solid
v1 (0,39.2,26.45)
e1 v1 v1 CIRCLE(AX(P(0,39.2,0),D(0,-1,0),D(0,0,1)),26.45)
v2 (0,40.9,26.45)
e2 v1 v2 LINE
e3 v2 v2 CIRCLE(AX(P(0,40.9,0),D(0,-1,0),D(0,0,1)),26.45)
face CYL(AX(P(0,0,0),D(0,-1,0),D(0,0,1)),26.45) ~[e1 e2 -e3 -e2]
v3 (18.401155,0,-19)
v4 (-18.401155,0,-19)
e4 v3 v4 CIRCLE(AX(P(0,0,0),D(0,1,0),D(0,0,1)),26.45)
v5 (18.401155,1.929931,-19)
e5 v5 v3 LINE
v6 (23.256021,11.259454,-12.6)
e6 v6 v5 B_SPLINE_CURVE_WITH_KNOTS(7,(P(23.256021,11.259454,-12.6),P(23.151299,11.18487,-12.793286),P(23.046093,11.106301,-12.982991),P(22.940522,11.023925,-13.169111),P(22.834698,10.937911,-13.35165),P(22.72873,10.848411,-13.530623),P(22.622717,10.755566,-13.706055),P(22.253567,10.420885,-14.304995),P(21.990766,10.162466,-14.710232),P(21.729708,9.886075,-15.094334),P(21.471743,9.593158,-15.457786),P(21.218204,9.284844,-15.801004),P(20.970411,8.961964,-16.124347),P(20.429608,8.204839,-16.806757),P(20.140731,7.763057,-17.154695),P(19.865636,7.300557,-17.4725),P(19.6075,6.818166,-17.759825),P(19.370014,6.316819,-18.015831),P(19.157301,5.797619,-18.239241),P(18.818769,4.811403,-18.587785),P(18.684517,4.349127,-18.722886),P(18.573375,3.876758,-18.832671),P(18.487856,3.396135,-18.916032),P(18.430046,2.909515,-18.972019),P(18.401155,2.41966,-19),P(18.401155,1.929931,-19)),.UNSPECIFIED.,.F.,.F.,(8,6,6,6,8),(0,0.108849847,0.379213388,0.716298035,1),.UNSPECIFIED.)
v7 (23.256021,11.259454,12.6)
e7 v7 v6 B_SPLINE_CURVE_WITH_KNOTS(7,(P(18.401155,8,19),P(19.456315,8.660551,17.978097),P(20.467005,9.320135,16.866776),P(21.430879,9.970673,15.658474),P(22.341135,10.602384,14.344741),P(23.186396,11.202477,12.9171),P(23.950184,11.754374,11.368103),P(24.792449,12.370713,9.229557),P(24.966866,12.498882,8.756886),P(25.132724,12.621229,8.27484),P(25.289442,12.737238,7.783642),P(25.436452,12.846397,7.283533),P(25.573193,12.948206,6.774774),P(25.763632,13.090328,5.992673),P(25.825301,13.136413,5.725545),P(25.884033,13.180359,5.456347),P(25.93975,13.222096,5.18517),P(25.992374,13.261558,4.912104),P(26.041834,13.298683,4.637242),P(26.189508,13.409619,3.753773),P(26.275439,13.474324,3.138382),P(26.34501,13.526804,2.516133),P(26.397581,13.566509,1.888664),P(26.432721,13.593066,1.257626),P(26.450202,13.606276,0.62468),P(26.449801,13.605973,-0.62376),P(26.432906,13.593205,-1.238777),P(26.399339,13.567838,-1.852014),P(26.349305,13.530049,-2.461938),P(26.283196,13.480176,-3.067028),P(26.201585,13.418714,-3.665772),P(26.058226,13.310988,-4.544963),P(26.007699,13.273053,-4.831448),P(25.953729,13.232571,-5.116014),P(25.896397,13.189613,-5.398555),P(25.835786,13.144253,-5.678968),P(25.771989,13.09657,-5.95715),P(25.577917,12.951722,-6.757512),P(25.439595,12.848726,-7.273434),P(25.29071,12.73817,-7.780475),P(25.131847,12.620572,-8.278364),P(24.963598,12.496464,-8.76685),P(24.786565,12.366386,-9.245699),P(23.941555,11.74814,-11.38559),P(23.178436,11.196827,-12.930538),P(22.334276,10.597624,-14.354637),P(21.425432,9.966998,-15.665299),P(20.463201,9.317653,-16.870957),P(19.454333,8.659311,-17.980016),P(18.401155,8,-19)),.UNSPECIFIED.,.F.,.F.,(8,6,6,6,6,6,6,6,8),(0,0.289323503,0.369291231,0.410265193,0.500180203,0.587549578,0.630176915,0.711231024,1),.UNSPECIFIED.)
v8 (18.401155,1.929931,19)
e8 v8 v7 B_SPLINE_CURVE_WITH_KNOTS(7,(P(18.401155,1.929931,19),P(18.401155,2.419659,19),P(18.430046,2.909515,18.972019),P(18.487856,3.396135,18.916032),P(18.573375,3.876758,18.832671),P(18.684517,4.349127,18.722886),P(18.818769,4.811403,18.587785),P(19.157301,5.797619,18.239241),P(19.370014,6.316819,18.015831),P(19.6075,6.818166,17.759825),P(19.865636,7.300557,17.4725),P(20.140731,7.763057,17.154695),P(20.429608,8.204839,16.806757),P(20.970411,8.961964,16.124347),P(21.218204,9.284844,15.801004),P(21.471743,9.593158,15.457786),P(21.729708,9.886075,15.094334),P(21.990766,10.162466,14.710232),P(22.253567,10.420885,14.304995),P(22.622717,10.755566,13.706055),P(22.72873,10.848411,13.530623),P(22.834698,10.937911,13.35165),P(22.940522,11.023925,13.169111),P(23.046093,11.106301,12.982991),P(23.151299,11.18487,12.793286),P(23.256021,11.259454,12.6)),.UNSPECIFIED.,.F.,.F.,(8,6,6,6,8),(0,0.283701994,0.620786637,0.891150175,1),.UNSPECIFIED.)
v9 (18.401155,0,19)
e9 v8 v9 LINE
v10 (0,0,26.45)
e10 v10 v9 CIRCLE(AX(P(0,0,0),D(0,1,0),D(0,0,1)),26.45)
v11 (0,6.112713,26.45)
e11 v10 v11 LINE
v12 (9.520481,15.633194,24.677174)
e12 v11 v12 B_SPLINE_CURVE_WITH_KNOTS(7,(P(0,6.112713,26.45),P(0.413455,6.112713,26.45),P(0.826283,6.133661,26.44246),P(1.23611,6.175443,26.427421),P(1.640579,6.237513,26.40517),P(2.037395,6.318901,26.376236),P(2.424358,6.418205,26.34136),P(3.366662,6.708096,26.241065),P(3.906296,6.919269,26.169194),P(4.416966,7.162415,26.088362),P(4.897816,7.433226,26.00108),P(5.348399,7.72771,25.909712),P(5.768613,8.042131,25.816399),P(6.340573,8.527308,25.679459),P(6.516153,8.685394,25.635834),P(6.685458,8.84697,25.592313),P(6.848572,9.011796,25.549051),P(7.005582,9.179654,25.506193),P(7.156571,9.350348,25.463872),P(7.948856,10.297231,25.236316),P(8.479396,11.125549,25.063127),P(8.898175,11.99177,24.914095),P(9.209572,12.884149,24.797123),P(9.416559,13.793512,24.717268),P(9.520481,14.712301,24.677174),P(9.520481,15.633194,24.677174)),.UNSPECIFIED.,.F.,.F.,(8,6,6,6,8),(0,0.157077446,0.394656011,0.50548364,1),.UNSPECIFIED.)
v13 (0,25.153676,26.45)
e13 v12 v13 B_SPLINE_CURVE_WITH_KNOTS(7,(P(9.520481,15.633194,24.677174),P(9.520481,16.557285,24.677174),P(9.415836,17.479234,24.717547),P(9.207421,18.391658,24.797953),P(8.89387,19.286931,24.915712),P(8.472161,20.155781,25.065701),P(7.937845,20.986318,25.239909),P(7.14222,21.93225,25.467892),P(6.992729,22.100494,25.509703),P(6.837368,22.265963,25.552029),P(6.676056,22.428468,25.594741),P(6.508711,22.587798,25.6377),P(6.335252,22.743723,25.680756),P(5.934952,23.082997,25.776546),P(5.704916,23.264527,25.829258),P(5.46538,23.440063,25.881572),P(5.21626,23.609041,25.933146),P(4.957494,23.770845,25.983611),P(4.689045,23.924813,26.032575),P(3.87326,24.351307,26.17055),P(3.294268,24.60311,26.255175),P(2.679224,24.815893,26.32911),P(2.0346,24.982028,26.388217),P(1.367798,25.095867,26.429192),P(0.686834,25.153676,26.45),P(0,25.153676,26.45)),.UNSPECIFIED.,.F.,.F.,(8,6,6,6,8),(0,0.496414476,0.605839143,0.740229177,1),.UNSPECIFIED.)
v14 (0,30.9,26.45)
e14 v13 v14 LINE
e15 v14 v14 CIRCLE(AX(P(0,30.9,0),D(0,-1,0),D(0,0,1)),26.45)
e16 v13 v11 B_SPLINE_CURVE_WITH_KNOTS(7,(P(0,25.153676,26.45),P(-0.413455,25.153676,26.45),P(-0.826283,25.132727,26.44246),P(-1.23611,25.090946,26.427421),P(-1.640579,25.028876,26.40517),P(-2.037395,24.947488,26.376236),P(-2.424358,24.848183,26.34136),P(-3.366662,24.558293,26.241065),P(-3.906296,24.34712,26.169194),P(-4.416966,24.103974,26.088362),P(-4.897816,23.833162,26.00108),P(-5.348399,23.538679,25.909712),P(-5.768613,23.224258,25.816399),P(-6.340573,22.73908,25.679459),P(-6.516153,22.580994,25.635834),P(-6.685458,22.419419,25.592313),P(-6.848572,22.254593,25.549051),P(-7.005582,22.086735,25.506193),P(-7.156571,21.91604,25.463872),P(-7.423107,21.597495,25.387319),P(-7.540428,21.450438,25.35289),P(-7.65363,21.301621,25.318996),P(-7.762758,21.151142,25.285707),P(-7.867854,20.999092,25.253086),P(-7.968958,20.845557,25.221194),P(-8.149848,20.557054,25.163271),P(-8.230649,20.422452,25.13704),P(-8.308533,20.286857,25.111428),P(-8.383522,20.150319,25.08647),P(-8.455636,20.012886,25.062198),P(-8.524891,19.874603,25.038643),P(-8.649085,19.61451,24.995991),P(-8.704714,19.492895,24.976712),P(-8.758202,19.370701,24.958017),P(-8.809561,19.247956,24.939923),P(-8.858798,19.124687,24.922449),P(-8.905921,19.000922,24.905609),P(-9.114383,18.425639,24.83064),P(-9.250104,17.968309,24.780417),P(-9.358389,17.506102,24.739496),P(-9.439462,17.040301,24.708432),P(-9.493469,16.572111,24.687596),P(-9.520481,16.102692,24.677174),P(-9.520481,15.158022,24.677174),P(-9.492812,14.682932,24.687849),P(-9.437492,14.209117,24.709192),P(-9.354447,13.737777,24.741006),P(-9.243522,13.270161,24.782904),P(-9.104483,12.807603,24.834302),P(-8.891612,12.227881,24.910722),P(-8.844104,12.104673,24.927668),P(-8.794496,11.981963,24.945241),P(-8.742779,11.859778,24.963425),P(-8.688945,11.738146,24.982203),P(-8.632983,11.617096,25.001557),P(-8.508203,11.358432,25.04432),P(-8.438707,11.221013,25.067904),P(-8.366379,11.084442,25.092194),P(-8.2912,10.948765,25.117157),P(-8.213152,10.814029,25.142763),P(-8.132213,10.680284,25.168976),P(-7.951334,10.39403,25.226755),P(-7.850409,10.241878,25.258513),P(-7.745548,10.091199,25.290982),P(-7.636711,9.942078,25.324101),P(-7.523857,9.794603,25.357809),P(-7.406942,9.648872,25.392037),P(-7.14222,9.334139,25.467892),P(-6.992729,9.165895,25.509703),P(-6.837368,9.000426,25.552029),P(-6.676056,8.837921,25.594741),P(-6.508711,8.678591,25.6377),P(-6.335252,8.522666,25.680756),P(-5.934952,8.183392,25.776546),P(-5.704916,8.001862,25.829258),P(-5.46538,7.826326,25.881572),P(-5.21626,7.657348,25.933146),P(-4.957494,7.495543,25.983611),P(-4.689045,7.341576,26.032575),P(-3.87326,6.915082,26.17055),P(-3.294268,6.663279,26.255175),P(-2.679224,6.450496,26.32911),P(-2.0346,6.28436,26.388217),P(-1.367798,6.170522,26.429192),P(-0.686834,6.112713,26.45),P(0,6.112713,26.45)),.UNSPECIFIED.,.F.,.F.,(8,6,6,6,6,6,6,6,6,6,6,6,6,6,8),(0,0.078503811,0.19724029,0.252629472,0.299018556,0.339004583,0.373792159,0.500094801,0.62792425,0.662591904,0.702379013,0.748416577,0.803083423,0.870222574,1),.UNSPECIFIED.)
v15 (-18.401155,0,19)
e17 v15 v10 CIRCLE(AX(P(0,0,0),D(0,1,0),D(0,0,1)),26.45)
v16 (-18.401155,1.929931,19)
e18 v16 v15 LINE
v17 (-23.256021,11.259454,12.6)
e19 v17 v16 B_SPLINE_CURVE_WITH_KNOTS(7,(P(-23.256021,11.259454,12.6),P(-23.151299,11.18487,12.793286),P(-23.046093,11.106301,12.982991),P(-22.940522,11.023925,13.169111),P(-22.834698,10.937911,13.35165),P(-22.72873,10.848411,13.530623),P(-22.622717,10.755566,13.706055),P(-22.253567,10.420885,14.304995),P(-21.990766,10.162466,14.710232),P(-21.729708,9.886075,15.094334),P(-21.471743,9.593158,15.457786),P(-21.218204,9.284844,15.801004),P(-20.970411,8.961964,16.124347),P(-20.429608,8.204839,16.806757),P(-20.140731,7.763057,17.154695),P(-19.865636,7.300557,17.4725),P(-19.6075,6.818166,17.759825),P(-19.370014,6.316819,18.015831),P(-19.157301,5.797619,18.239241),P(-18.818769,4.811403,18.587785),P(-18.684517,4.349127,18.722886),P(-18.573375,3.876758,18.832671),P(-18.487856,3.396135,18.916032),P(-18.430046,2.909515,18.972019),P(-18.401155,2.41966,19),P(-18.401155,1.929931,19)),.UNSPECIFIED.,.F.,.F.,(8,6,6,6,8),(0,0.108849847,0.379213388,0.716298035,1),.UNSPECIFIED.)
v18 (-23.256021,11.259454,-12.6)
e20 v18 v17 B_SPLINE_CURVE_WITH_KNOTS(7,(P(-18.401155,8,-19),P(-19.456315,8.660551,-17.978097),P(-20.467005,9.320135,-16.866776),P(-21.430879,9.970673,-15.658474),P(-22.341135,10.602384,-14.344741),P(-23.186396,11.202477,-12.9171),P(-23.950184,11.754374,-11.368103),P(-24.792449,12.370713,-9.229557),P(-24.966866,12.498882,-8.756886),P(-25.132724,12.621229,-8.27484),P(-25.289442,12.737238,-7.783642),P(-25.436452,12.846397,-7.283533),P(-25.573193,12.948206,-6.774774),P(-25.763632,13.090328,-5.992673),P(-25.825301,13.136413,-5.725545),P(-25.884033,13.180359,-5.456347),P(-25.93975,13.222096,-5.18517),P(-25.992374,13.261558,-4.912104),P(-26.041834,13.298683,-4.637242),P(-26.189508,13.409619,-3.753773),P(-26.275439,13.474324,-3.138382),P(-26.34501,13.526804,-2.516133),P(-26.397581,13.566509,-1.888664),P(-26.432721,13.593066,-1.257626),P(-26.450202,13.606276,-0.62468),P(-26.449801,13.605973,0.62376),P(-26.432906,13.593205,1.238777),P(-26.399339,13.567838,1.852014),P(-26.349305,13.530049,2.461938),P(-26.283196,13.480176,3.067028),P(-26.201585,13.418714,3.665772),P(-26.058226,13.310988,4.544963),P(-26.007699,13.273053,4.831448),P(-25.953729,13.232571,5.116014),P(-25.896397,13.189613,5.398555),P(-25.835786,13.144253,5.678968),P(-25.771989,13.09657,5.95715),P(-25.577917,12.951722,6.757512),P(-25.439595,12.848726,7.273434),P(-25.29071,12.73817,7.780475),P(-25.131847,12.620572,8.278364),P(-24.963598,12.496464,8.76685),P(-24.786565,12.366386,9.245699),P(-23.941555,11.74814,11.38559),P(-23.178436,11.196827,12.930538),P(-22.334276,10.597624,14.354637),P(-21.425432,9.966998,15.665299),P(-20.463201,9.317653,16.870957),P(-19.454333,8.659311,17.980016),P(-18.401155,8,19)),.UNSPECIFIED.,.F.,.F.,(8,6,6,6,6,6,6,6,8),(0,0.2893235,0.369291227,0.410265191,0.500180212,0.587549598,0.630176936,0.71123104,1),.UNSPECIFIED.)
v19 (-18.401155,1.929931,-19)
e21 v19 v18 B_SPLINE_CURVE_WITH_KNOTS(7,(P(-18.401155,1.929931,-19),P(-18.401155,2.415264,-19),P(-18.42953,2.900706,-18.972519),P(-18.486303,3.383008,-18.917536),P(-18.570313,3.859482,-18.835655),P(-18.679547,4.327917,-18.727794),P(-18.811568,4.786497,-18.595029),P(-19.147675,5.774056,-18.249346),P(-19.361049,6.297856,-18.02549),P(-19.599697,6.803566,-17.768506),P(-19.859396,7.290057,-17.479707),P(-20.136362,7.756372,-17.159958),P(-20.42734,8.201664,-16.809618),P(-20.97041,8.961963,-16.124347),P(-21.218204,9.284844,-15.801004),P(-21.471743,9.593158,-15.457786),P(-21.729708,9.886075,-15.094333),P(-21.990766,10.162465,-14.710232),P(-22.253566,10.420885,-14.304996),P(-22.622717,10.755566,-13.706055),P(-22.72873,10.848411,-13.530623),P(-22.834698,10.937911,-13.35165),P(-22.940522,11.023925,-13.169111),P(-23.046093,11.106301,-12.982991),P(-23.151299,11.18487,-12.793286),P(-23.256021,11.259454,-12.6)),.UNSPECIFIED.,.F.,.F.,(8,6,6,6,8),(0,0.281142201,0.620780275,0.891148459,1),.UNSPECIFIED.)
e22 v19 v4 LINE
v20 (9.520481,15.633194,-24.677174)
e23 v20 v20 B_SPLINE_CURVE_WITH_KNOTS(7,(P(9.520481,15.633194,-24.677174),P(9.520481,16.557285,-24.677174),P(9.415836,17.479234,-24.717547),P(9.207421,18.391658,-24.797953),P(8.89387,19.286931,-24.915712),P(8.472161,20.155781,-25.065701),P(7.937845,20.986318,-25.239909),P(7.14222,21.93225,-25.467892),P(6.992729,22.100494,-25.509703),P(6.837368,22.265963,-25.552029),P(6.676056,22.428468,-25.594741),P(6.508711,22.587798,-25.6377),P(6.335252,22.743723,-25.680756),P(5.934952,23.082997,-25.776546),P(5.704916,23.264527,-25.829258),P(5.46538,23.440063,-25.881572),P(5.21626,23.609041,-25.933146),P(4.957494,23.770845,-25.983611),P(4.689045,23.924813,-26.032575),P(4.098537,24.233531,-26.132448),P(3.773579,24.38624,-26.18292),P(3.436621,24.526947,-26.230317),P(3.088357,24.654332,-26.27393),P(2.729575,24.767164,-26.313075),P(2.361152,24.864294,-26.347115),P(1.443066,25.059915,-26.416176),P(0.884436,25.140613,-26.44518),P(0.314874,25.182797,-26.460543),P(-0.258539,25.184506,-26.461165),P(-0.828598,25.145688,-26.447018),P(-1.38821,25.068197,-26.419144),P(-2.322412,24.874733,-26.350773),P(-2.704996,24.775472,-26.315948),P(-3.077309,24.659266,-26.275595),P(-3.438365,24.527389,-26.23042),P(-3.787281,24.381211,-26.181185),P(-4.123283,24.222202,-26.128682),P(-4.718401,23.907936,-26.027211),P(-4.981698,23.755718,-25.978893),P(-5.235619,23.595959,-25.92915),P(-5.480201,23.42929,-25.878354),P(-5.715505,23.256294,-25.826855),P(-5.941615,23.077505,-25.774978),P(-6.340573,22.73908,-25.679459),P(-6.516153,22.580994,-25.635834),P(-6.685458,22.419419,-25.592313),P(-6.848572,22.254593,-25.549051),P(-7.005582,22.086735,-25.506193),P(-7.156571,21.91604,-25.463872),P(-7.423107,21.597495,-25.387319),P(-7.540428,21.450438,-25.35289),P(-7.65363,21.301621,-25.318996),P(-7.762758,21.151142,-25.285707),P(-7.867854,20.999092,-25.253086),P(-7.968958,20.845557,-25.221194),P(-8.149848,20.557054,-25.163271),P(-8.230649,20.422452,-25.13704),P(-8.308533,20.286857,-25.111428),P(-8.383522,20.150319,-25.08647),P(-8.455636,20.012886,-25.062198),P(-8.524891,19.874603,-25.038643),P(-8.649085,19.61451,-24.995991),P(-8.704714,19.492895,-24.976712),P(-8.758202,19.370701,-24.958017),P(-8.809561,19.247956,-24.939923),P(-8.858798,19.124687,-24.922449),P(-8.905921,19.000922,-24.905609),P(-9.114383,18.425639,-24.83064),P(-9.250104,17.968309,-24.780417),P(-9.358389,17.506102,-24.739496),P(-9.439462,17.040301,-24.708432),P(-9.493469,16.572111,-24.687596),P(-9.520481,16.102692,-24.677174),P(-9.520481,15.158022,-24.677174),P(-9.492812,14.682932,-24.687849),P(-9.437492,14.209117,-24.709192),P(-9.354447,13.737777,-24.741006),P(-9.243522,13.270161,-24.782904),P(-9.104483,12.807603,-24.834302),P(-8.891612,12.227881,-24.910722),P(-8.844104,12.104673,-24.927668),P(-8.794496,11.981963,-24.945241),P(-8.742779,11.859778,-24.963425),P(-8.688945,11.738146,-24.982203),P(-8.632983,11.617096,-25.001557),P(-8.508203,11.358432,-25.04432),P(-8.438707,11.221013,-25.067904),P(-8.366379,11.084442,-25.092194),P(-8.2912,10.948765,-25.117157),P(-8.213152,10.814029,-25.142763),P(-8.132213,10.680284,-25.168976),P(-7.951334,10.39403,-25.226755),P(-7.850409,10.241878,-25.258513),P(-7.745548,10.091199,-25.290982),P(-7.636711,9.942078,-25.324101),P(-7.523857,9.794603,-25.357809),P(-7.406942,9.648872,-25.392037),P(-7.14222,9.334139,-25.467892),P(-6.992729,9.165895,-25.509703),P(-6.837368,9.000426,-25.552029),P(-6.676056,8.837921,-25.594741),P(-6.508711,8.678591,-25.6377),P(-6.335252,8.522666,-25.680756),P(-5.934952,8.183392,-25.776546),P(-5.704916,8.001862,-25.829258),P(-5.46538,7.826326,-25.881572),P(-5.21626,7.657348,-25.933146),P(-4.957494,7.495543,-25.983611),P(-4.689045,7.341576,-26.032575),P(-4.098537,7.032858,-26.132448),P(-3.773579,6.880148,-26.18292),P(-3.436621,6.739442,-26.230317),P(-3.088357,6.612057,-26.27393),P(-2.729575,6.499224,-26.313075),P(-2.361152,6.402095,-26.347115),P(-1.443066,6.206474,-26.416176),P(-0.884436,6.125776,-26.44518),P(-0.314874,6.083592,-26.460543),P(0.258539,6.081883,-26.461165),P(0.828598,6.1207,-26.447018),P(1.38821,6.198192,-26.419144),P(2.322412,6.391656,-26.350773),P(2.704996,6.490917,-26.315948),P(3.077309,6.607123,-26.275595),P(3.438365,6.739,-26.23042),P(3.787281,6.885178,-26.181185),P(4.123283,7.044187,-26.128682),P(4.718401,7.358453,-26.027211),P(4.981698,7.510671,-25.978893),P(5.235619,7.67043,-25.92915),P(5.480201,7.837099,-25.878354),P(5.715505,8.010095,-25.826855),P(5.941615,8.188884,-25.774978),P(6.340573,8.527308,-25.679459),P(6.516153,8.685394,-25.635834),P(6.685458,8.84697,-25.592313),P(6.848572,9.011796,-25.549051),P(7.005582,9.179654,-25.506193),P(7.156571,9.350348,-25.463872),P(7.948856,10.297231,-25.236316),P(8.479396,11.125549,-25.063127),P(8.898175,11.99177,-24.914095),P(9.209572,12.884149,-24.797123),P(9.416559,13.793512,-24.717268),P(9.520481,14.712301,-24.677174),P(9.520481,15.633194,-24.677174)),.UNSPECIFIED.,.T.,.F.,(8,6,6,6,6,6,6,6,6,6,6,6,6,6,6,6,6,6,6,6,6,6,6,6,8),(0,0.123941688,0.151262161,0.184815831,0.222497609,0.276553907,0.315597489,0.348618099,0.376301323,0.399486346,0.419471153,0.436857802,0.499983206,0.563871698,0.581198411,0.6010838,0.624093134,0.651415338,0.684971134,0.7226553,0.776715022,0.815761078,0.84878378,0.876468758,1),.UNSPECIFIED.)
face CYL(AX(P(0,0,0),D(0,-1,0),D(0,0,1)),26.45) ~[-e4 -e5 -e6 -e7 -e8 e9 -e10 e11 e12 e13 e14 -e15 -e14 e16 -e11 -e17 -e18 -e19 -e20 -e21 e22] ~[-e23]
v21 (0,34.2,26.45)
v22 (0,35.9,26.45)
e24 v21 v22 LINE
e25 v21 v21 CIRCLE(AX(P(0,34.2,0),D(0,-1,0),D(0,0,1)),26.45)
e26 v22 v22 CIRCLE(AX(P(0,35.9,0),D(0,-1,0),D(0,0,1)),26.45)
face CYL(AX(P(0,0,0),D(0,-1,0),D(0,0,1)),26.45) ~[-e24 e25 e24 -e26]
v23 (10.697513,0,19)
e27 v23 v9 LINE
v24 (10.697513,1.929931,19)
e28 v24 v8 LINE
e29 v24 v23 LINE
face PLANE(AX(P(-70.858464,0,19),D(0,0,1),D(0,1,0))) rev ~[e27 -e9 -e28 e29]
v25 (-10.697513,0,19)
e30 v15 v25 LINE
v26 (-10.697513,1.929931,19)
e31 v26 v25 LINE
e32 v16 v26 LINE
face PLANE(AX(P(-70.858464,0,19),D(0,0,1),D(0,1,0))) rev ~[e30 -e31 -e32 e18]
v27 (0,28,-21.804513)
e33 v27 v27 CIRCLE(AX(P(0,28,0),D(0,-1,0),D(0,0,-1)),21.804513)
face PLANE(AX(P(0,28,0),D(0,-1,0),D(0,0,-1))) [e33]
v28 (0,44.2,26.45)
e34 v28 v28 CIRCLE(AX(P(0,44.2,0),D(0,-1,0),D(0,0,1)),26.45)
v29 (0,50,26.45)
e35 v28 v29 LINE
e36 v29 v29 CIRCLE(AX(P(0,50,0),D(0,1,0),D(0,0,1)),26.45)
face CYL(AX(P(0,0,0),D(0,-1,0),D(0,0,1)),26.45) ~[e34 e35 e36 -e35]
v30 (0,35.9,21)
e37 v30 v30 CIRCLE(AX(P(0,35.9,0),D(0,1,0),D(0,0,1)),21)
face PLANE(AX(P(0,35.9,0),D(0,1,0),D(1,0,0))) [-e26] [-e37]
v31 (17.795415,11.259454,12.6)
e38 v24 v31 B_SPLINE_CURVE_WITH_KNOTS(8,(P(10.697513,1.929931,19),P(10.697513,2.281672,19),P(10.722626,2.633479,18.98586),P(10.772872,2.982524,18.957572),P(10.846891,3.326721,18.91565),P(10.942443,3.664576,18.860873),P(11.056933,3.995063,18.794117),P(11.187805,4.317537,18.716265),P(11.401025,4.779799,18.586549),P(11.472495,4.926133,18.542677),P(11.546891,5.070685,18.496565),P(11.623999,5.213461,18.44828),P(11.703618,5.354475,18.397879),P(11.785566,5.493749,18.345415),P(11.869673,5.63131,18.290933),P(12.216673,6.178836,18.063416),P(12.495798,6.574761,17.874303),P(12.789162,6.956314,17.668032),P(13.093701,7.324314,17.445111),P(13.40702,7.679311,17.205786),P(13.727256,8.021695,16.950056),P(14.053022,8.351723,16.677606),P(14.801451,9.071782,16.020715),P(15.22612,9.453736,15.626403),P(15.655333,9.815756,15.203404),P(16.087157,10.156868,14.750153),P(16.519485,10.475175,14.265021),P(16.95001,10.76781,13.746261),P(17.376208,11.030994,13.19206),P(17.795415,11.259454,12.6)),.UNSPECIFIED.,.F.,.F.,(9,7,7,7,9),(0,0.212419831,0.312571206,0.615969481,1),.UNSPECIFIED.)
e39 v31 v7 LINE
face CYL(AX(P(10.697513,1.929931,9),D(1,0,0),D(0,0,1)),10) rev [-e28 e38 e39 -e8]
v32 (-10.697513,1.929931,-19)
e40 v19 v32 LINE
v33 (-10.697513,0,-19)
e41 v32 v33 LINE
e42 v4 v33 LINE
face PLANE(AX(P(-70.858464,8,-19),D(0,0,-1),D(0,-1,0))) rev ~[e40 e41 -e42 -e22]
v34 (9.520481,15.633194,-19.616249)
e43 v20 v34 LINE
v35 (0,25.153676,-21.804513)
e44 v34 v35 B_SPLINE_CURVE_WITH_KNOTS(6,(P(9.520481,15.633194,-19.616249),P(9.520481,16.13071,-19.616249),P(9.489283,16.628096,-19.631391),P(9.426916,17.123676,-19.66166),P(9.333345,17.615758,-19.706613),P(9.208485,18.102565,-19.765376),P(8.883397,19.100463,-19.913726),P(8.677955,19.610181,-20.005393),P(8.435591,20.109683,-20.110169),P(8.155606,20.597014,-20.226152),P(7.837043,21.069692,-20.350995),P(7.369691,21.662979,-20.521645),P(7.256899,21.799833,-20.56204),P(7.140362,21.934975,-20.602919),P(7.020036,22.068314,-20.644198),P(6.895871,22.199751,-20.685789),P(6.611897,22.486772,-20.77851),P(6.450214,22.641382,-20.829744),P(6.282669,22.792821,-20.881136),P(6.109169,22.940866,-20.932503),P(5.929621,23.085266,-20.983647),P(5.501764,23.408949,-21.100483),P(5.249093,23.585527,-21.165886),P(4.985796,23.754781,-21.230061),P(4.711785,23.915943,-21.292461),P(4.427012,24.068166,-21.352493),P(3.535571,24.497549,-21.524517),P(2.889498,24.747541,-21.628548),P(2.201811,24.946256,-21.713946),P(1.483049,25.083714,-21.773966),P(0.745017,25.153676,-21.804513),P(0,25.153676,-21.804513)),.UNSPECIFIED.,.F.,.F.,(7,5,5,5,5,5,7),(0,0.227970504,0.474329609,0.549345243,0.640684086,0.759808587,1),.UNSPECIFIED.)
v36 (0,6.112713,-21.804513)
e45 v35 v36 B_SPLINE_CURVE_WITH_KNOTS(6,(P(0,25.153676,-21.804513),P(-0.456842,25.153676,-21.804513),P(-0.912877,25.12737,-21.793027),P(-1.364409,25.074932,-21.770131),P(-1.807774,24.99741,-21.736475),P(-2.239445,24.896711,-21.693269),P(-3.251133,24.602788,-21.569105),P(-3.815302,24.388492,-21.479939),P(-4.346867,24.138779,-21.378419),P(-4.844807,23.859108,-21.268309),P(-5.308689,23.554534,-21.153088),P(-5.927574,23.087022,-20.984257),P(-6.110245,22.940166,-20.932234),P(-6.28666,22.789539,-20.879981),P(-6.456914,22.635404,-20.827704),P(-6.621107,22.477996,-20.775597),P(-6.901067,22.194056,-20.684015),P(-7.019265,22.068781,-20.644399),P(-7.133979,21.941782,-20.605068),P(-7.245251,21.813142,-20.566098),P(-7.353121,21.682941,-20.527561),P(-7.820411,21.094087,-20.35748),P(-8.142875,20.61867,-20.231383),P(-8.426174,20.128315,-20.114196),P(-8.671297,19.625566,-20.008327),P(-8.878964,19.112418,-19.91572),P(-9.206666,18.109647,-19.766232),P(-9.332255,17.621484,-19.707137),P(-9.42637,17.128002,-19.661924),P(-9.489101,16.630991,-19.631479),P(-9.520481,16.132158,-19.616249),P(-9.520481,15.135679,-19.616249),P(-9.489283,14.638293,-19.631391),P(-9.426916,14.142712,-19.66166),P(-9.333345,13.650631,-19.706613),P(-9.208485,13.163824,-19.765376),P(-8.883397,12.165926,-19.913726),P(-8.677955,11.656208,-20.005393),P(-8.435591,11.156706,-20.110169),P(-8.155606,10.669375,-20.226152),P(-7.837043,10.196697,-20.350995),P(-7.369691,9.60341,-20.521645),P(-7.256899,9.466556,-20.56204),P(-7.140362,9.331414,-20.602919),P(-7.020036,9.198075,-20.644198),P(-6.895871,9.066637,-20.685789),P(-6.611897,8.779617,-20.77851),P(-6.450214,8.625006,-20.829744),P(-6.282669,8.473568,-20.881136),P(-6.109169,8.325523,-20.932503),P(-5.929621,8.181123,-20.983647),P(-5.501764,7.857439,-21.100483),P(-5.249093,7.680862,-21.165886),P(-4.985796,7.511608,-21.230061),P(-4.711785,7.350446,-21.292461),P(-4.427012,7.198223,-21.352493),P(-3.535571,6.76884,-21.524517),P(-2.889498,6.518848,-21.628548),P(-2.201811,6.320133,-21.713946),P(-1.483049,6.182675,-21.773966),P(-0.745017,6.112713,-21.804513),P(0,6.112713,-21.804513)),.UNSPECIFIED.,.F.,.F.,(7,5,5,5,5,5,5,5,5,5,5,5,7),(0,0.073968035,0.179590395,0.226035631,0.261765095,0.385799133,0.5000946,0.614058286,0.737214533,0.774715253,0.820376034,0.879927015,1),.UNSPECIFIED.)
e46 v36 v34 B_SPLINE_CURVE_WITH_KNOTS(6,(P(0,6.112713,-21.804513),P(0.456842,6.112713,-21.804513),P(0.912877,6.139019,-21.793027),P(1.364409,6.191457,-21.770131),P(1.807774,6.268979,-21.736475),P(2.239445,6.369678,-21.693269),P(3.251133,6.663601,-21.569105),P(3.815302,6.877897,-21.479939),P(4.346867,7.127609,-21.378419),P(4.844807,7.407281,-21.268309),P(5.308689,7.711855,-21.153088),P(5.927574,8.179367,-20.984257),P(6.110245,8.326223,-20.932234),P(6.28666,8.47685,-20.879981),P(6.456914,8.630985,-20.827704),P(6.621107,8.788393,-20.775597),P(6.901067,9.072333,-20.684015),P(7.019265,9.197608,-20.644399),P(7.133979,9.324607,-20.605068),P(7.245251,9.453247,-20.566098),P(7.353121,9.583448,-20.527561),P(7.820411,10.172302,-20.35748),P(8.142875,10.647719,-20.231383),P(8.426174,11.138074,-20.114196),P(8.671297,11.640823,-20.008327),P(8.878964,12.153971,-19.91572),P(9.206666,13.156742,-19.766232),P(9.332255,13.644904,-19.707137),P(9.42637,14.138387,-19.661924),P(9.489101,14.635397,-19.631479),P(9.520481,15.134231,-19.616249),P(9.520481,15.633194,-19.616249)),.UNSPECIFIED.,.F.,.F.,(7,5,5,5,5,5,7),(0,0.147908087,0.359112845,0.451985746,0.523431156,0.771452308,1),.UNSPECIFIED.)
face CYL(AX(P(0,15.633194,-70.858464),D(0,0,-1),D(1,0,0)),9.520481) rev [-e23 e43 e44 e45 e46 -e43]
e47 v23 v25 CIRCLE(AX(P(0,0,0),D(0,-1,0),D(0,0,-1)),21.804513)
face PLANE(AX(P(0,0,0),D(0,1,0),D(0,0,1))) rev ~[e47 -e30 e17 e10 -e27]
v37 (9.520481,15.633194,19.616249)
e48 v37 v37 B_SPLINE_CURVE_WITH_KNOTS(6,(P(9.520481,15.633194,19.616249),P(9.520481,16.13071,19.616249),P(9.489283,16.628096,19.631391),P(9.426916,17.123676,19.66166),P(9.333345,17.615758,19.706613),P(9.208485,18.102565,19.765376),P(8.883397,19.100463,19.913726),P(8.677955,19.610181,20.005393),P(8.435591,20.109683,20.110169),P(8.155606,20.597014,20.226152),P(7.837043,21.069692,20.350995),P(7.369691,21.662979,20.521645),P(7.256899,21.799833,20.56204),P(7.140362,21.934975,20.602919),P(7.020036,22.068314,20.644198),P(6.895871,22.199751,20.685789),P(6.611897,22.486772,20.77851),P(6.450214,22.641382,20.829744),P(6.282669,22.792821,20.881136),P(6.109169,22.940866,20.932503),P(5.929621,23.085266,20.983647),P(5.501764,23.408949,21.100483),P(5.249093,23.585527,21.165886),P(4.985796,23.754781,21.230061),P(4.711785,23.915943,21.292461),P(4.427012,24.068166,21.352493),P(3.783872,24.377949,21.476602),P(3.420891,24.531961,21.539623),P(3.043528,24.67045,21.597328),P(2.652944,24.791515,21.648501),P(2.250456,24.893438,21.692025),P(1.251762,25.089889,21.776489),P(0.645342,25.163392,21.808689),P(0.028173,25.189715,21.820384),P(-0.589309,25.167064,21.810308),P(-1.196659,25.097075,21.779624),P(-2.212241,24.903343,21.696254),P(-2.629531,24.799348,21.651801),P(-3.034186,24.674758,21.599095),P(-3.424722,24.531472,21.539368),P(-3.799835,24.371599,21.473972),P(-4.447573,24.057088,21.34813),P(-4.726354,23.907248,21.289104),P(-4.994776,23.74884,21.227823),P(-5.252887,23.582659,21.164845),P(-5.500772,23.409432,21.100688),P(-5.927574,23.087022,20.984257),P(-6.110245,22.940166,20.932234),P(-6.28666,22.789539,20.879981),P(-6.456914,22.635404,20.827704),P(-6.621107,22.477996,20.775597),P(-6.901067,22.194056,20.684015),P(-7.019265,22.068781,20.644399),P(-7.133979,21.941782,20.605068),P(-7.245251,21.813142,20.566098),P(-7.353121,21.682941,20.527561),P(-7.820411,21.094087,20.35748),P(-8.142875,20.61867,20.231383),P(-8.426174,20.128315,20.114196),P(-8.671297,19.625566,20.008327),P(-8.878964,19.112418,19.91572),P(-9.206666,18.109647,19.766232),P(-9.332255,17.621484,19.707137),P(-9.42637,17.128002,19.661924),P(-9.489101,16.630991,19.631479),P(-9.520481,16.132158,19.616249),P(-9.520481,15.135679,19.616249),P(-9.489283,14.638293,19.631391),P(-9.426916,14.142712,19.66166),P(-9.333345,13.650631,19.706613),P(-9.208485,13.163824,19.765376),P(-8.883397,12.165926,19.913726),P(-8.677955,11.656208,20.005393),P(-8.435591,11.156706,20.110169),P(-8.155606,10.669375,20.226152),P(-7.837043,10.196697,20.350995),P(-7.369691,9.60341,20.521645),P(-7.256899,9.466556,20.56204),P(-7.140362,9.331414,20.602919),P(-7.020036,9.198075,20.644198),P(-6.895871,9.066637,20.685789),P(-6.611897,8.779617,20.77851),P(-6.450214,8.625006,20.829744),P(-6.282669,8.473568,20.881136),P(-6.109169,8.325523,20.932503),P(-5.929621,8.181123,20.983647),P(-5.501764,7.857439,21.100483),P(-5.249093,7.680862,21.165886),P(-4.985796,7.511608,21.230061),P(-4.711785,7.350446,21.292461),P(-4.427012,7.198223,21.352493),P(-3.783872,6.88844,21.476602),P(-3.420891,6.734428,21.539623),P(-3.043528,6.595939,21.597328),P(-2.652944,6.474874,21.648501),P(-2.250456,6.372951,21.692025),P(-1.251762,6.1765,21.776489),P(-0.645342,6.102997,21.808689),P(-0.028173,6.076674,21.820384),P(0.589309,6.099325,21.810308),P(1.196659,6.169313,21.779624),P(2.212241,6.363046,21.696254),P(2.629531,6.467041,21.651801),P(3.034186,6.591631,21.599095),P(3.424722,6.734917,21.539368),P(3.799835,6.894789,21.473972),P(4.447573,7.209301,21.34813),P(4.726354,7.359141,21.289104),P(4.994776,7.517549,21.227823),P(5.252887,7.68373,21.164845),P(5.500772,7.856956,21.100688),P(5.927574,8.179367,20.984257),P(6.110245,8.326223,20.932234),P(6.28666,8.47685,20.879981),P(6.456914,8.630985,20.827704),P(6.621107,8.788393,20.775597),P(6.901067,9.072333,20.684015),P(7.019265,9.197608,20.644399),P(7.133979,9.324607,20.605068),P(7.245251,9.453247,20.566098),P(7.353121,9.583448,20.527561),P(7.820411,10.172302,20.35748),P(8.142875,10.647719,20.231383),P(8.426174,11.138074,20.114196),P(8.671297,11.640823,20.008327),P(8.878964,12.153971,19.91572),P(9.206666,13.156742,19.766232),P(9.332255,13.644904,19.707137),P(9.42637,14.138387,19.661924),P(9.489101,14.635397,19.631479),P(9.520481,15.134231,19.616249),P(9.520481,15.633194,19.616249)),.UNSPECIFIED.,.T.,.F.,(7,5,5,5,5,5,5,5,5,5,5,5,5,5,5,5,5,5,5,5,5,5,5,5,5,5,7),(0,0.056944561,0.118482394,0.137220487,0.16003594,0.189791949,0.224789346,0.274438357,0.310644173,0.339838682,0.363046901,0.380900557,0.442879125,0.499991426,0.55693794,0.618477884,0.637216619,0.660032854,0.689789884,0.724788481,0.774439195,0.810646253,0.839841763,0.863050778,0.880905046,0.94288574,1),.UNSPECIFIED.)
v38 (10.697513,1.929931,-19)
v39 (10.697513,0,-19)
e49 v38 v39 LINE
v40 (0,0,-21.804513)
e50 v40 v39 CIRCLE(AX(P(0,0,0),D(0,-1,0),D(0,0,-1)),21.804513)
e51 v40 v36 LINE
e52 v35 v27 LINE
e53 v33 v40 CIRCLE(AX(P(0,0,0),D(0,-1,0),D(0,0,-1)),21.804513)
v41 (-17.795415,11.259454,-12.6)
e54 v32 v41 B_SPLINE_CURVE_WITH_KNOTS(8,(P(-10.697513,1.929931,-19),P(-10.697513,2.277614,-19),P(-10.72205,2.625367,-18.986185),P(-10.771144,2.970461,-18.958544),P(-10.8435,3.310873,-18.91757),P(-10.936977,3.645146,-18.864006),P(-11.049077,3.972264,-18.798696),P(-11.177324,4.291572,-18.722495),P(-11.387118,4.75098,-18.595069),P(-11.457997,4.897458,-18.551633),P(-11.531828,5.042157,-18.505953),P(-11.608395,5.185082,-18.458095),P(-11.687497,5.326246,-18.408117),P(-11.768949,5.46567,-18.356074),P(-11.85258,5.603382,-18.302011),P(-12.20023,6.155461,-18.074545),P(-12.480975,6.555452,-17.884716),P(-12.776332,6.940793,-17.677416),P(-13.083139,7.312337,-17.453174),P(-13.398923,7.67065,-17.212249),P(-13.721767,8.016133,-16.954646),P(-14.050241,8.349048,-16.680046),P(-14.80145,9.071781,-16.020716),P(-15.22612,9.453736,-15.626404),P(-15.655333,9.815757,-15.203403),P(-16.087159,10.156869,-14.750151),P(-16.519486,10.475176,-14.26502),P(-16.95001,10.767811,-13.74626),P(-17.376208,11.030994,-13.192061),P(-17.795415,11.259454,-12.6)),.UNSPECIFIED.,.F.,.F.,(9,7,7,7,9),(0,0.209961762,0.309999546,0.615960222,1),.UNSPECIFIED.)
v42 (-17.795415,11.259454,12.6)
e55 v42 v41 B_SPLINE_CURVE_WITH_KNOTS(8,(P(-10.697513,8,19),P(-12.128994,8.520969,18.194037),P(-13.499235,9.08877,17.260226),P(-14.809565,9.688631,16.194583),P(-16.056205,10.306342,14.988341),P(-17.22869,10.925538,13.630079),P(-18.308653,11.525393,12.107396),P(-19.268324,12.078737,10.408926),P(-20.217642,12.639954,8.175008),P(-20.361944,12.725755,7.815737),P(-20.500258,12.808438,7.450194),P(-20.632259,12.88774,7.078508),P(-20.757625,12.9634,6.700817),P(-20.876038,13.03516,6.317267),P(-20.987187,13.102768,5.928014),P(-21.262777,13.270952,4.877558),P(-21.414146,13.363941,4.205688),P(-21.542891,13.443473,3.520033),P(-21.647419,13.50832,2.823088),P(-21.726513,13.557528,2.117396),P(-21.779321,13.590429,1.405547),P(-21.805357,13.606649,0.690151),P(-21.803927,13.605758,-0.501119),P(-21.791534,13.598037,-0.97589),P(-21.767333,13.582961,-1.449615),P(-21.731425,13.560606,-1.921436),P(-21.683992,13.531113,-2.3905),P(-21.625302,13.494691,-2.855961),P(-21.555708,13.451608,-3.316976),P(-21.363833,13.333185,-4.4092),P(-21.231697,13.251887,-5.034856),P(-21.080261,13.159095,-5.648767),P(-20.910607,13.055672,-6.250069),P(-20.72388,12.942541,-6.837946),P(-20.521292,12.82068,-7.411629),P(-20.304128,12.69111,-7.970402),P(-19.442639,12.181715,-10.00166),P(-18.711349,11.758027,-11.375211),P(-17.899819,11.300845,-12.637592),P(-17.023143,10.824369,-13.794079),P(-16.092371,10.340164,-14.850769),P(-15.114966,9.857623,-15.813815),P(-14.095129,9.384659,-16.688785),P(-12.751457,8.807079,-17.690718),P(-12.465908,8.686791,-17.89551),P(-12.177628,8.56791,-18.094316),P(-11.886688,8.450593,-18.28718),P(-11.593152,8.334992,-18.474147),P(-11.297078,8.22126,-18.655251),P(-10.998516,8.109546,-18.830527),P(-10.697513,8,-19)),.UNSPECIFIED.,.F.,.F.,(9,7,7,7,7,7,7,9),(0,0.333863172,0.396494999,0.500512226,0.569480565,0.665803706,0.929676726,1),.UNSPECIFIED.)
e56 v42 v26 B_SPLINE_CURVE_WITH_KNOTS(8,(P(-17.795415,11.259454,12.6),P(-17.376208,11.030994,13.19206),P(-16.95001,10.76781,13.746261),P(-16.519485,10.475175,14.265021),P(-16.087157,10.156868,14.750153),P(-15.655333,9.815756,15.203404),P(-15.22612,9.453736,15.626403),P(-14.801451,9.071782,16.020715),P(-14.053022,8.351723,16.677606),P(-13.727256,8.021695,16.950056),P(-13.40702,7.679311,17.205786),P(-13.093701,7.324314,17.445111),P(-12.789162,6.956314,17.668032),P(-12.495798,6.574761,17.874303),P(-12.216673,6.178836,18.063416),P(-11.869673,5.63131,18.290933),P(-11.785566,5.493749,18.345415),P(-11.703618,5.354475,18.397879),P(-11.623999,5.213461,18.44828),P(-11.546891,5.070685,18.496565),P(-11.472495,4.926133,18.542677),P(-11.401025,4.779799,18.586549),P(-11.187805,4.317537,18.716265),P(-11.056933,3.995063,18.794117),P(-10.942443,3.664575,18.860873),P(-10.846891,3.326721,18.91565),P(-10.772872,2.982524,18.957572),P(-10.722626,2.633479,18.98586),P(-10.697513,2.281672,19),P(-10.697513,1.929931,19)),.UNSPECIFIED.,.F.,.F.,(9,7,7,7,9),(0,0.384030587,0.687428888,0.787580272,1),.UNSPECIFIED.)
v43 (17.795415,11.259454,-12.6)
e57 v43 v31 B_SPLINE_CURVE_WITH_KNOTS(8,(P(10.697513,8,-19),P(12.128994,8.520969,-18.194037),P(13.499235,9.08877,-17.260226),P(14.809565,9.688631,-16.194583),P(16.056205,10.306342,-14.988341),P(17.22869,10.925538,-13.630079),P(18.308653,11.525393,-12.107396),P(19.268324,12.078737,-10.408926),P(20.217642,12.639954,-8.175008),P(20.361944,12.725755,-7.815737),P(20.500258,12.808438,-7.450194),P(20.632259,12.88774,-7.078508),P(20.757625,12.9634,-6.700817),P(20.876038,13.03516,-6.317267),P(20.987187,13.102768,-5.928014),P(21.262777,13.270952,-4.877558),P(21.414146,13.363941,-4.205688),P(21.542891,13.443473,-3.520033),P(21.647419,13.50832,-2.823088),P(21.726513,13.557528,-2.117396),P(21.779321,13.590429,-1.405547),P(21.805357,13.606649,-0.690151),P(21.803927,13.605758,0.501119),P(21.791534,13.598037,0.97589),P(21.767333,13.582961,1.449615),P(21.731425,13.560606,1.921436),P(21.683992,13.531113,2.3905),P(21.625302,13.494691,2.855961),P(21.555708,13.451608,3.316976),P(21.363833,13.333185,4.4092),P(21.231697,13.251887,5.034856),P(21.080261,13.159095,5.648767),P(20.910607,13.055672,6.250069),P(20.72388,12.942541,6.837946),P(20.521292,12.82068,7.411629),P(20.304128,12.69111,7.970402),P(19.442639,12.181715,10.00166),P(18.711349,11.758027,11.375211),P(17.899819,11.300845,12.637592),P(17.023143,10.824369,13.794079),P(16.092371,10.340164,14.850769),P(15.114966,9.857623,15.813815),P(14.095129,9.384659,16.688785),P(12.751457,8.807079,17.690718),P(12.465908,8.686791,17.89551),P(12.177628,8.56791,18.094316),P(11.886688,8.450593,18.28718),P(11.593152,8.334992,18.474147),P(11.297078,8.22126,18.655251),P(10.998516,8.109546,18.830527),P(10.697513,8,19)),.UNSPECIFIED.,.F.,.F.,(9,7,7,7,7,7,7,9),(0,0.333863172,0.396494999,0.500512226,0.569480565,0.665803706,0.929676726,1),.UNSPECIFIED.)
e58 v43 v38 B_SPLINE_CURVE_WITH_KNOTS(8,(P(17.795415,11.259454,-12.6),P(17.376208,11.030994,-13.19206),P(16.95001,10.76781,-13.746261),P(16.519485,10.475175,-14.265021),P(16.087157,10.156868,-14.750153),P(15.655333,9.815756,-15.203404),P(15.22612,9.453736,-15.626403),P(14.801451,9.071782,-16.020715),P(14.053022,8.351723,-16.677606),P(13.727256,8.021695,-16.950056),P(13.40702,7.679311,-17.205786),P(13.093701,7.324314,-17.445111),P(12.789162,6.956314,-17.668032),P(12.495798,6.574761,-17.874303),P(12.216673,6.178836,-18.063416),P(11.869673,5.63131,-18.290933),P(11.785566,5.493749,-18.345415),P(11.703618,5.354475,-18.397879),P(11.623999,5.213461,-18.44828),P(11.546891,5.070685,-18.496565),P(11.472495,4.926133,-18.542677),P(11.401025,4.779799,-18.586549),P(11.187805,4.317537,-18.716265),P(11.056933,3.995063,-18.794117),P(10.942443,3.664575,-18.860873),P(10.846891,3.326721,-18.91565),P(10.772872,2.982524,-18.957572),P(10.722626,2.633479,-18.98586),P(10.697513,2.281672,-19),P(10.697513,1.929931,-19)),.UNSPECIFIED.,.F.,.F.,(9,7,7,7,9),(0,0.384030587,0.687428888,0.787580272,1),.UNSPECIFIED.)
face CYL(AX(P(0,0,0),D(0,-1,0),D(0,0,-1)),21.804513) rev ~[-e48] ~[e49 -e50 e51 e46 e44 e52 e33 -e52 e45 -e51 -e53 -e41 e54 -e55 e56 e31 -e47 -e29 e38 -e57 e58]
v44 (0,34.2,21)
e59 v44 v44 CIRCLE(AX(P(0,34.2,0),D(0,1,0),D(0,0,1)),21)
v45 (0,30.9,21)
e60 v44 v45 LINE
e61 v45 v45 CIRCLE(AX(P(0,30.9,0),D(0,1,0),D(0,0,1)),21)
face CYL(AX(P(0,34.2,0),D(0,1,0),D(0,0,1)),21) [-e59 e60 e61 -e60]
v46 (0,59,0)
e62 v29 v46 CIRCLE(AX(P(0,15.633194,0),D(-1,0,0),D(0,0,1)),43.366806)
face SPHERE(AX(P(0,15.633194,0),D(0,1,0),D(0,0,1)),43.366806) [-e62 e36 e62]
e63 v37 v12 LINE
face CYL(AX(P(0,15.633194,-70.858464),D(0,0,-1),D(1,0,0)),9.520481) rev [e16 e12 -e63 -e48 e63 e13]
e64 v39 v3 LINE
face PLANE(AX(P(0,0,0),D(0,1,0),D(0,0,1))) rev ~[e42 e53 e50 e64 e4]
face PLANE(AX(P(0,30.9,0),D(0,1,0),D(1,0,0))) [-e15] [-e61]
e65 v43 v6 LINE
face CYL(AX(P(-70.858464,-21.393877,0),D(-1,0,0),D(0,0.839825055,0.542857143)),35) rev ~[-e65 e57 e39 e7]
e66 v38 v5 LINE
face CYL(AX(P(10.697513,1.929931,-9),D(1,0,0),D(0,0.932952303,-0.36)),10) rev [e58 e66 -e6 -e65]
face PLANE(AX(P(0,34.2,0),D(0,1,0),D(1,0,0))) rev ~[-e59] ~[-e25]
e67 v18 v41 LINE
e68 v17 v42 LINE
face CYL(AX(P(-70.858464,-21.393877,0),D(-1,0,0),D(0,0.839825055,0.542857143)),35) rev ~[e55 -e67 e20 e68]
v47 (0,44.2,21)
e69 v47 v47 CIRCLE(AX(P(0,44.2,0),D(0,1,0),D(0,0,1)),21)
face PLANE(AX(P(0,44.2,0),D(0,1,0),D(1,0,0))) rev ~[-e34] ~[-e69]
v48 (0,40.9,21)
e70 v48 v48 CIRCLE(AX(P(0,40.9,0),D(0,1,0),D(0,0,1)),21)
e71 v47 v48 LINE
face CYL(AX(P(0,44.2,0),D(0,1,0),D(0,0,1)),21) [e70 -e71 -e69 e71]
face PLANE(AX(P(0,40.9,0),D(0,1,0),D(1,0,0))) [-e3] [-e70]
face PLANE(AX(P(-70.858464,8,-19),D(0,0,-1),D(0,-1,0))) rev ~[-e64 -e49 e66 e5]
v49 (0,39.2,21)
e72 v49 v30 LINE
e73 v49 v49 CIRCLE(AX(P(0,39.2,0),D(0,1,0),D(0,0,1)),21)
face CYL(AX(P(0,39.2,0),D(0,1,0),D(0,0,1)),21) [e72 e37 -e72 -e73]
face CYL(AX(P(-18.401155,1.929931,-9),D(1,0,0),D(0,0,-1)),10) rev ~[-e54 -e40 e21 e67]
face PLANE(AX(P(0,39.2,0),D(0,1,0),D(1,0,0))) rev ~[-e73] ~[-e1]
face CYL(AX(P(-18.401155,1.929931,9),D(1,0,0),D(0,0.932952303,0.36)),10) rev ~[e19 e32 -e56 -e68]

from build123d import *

# Parameters (mm, degrees)
SKETCH1_R               = 26.45
BOSS_EXTRUDE1_DEPTH     = 50
CUT_EXTRUDE2_START      = -5.8
SKETCH2_OUTSIDE_W       = 72.896
SKETCH2_OUTSIDE_H       = 72.896
SKETCH2_OUTSIDE_R       = 21
CUT_EXTRUDE2_DEPTH      = 3.3
LPATTERN1_COUNT         = 3
LPATTERN1_PITCH         = 5
SKETCH5_R               = 21.804512809
CUT_EXTRUDE4_DEPTH      = 28
DOME1_FACE_RADIUS       = 26.45
DOME1_HEIGHT            = 9
CUT_EXTRUDE5_DEPTH      = 70.858464054
CUT_EXTRUDE5_DEPTH_BACK = 70.858464054
SKETCH6_R               = 9.520481224
CUT_EXTRUDE6_DEPTH      = 70.85846413
CUT_EXTRUDE6_DEPTH_BACK = 70.85846413
FILLET1_R               = 10
FILLET2_R               = 10


with BuildPart() as part:
    # Sketch1 → Boss-Extrude1 (new body)
    with BuildSketch(Plane(origin=(0, 0, 0), x_dir=(1, 0, 0), z_dir=(0, 1, 0))):
        with Locations(Location((0, 0, 0), (0, 0, 270))):
            Circle(SKETCH1_R)
    extrude(amount=BOSS_EXTRUDE1_DEPTH)

    # Sketch2 outside → Cut-Extrude2 (cut)
    with BuildSketch(Plane(origin=(0, 50, 0), x_dir=(1, 0, 0), z_dir=(0, 1, 0)).offset(CUT_EXTRUDE2_START)):
        Rectangle(SKETCH2_OUTSIDE_W, SKETCH2_OUTSIDE_H)
        with Locations(Location((0, 0, 0), (0, 0, 270))):
            Circle(SKETCH2_OUTSIDE_R, mode=Mode.SUBTRACT)
    cut_extrude2 = extrude(amount=-CUT_EXTRUDE2_DEPTH, mode=Mode.SUBTRACT)

    # LPattern1: Cut-Extrude2 ×3
    with Locations(*[(0, -i * LPATTERN1_PITCH, 0) for i in range(1, LPATTERN1_COUNT)]):
        add(cut_extrude2, mode=Mode.SUBTRACT)

    # Sketch5 → Cut-Extrude4 (cut)
    with BuildSketch(Plane.XZ):
        with Locations(Location((0, 0, 0), (0, 0, 270))):
            Circle(SKETCH5_R)
    extrude(amount=-CUT_EXTRUDE4_DEPTH, mode=Mode.SUBTRACT)

    # Dome1: a dome of height H over a round flat face of radius A is a cap of a sphere of radius (A * A + H * H) / (2 * H)
    dome1_r = (DOME1_FACE_RADIUS * DOME1_FACE_RADIUS + DOME1_HEIGHT * DOME1_HEIGHT) / (2 * DOME1_HEIGHT)
    dome1_base = Plane((0, 50, 0), z_dir=(0, 1, 0))
    with Locations(dome1_base.offset(DOME1_HEIGHT - dome1_r)):
        dome1_ball = Sphere(dome1_r, mode=Mode.PRIVATE)
    add(split(dome1_ball, bisect_by=dome1_base, keep=Keep.TOP, mode=Mode.PRIVATE))

    # Sketch6 → Cut-Extrude5 (cut, two sides: drawn at the far end of the back side and taken through both)
    with BuildSketch(Plane.XY.offset(-CUT_EXTRUDE5_DEPTH_BACK)):
        with Locations((0, 15.633194444)):
            Circle(SKETCH6_R)
    extrude(amount=CUT_EXTRUDE5_DEPTH + CUT_EXTRUDE5_DEPTH_BACK, mode=Mode.SUBTRACT)

    # Sketch8 → Cut-Extrude6 (cut, two sides: drawn at the far end of the back side and taken through both)
    with BuildSketch(Plane(origin=(0, 0, 0), x_dir=(0, 0, -1), z_dir=(1, 0, 0)).offset(-CUT_EXTRUDE6_DEPTH_BACK)):
        with BuildLine():
            Line((-19, 0), (-19, 8))
            ThreePointArc((-19, 8), (0, 13.606123087), (19, 8))
            Line((19, 8), (19, 0))
            Line((19, 0), (-19, 0))
        make_face()
    extrude(amount=CUT_EXTRUDE6_DEPTH + CUT_EXTRUDE6_DEPTH_BACK, mode=Mode.SUBTRACT)

    # Fillet1
    fillet1_edges = [part.edges().sort_by_distance(p)[0] for p in [
        (14.549333798, 8, -19),
        (14.549333798, 8, 19),
    ]]
    fillet(fillet1_edges, radius=FILLET1_R)

    # Fillet2
    fillet2_edges = [part.edges().sort_by_distance(p)[0] for p in [
        (-14.549333798, 8, 19),
        (-14.549333798, 8, -19),
    ]]
    fillet(fillet2_edges, radius=FILLET2_R)


solid = part.part
